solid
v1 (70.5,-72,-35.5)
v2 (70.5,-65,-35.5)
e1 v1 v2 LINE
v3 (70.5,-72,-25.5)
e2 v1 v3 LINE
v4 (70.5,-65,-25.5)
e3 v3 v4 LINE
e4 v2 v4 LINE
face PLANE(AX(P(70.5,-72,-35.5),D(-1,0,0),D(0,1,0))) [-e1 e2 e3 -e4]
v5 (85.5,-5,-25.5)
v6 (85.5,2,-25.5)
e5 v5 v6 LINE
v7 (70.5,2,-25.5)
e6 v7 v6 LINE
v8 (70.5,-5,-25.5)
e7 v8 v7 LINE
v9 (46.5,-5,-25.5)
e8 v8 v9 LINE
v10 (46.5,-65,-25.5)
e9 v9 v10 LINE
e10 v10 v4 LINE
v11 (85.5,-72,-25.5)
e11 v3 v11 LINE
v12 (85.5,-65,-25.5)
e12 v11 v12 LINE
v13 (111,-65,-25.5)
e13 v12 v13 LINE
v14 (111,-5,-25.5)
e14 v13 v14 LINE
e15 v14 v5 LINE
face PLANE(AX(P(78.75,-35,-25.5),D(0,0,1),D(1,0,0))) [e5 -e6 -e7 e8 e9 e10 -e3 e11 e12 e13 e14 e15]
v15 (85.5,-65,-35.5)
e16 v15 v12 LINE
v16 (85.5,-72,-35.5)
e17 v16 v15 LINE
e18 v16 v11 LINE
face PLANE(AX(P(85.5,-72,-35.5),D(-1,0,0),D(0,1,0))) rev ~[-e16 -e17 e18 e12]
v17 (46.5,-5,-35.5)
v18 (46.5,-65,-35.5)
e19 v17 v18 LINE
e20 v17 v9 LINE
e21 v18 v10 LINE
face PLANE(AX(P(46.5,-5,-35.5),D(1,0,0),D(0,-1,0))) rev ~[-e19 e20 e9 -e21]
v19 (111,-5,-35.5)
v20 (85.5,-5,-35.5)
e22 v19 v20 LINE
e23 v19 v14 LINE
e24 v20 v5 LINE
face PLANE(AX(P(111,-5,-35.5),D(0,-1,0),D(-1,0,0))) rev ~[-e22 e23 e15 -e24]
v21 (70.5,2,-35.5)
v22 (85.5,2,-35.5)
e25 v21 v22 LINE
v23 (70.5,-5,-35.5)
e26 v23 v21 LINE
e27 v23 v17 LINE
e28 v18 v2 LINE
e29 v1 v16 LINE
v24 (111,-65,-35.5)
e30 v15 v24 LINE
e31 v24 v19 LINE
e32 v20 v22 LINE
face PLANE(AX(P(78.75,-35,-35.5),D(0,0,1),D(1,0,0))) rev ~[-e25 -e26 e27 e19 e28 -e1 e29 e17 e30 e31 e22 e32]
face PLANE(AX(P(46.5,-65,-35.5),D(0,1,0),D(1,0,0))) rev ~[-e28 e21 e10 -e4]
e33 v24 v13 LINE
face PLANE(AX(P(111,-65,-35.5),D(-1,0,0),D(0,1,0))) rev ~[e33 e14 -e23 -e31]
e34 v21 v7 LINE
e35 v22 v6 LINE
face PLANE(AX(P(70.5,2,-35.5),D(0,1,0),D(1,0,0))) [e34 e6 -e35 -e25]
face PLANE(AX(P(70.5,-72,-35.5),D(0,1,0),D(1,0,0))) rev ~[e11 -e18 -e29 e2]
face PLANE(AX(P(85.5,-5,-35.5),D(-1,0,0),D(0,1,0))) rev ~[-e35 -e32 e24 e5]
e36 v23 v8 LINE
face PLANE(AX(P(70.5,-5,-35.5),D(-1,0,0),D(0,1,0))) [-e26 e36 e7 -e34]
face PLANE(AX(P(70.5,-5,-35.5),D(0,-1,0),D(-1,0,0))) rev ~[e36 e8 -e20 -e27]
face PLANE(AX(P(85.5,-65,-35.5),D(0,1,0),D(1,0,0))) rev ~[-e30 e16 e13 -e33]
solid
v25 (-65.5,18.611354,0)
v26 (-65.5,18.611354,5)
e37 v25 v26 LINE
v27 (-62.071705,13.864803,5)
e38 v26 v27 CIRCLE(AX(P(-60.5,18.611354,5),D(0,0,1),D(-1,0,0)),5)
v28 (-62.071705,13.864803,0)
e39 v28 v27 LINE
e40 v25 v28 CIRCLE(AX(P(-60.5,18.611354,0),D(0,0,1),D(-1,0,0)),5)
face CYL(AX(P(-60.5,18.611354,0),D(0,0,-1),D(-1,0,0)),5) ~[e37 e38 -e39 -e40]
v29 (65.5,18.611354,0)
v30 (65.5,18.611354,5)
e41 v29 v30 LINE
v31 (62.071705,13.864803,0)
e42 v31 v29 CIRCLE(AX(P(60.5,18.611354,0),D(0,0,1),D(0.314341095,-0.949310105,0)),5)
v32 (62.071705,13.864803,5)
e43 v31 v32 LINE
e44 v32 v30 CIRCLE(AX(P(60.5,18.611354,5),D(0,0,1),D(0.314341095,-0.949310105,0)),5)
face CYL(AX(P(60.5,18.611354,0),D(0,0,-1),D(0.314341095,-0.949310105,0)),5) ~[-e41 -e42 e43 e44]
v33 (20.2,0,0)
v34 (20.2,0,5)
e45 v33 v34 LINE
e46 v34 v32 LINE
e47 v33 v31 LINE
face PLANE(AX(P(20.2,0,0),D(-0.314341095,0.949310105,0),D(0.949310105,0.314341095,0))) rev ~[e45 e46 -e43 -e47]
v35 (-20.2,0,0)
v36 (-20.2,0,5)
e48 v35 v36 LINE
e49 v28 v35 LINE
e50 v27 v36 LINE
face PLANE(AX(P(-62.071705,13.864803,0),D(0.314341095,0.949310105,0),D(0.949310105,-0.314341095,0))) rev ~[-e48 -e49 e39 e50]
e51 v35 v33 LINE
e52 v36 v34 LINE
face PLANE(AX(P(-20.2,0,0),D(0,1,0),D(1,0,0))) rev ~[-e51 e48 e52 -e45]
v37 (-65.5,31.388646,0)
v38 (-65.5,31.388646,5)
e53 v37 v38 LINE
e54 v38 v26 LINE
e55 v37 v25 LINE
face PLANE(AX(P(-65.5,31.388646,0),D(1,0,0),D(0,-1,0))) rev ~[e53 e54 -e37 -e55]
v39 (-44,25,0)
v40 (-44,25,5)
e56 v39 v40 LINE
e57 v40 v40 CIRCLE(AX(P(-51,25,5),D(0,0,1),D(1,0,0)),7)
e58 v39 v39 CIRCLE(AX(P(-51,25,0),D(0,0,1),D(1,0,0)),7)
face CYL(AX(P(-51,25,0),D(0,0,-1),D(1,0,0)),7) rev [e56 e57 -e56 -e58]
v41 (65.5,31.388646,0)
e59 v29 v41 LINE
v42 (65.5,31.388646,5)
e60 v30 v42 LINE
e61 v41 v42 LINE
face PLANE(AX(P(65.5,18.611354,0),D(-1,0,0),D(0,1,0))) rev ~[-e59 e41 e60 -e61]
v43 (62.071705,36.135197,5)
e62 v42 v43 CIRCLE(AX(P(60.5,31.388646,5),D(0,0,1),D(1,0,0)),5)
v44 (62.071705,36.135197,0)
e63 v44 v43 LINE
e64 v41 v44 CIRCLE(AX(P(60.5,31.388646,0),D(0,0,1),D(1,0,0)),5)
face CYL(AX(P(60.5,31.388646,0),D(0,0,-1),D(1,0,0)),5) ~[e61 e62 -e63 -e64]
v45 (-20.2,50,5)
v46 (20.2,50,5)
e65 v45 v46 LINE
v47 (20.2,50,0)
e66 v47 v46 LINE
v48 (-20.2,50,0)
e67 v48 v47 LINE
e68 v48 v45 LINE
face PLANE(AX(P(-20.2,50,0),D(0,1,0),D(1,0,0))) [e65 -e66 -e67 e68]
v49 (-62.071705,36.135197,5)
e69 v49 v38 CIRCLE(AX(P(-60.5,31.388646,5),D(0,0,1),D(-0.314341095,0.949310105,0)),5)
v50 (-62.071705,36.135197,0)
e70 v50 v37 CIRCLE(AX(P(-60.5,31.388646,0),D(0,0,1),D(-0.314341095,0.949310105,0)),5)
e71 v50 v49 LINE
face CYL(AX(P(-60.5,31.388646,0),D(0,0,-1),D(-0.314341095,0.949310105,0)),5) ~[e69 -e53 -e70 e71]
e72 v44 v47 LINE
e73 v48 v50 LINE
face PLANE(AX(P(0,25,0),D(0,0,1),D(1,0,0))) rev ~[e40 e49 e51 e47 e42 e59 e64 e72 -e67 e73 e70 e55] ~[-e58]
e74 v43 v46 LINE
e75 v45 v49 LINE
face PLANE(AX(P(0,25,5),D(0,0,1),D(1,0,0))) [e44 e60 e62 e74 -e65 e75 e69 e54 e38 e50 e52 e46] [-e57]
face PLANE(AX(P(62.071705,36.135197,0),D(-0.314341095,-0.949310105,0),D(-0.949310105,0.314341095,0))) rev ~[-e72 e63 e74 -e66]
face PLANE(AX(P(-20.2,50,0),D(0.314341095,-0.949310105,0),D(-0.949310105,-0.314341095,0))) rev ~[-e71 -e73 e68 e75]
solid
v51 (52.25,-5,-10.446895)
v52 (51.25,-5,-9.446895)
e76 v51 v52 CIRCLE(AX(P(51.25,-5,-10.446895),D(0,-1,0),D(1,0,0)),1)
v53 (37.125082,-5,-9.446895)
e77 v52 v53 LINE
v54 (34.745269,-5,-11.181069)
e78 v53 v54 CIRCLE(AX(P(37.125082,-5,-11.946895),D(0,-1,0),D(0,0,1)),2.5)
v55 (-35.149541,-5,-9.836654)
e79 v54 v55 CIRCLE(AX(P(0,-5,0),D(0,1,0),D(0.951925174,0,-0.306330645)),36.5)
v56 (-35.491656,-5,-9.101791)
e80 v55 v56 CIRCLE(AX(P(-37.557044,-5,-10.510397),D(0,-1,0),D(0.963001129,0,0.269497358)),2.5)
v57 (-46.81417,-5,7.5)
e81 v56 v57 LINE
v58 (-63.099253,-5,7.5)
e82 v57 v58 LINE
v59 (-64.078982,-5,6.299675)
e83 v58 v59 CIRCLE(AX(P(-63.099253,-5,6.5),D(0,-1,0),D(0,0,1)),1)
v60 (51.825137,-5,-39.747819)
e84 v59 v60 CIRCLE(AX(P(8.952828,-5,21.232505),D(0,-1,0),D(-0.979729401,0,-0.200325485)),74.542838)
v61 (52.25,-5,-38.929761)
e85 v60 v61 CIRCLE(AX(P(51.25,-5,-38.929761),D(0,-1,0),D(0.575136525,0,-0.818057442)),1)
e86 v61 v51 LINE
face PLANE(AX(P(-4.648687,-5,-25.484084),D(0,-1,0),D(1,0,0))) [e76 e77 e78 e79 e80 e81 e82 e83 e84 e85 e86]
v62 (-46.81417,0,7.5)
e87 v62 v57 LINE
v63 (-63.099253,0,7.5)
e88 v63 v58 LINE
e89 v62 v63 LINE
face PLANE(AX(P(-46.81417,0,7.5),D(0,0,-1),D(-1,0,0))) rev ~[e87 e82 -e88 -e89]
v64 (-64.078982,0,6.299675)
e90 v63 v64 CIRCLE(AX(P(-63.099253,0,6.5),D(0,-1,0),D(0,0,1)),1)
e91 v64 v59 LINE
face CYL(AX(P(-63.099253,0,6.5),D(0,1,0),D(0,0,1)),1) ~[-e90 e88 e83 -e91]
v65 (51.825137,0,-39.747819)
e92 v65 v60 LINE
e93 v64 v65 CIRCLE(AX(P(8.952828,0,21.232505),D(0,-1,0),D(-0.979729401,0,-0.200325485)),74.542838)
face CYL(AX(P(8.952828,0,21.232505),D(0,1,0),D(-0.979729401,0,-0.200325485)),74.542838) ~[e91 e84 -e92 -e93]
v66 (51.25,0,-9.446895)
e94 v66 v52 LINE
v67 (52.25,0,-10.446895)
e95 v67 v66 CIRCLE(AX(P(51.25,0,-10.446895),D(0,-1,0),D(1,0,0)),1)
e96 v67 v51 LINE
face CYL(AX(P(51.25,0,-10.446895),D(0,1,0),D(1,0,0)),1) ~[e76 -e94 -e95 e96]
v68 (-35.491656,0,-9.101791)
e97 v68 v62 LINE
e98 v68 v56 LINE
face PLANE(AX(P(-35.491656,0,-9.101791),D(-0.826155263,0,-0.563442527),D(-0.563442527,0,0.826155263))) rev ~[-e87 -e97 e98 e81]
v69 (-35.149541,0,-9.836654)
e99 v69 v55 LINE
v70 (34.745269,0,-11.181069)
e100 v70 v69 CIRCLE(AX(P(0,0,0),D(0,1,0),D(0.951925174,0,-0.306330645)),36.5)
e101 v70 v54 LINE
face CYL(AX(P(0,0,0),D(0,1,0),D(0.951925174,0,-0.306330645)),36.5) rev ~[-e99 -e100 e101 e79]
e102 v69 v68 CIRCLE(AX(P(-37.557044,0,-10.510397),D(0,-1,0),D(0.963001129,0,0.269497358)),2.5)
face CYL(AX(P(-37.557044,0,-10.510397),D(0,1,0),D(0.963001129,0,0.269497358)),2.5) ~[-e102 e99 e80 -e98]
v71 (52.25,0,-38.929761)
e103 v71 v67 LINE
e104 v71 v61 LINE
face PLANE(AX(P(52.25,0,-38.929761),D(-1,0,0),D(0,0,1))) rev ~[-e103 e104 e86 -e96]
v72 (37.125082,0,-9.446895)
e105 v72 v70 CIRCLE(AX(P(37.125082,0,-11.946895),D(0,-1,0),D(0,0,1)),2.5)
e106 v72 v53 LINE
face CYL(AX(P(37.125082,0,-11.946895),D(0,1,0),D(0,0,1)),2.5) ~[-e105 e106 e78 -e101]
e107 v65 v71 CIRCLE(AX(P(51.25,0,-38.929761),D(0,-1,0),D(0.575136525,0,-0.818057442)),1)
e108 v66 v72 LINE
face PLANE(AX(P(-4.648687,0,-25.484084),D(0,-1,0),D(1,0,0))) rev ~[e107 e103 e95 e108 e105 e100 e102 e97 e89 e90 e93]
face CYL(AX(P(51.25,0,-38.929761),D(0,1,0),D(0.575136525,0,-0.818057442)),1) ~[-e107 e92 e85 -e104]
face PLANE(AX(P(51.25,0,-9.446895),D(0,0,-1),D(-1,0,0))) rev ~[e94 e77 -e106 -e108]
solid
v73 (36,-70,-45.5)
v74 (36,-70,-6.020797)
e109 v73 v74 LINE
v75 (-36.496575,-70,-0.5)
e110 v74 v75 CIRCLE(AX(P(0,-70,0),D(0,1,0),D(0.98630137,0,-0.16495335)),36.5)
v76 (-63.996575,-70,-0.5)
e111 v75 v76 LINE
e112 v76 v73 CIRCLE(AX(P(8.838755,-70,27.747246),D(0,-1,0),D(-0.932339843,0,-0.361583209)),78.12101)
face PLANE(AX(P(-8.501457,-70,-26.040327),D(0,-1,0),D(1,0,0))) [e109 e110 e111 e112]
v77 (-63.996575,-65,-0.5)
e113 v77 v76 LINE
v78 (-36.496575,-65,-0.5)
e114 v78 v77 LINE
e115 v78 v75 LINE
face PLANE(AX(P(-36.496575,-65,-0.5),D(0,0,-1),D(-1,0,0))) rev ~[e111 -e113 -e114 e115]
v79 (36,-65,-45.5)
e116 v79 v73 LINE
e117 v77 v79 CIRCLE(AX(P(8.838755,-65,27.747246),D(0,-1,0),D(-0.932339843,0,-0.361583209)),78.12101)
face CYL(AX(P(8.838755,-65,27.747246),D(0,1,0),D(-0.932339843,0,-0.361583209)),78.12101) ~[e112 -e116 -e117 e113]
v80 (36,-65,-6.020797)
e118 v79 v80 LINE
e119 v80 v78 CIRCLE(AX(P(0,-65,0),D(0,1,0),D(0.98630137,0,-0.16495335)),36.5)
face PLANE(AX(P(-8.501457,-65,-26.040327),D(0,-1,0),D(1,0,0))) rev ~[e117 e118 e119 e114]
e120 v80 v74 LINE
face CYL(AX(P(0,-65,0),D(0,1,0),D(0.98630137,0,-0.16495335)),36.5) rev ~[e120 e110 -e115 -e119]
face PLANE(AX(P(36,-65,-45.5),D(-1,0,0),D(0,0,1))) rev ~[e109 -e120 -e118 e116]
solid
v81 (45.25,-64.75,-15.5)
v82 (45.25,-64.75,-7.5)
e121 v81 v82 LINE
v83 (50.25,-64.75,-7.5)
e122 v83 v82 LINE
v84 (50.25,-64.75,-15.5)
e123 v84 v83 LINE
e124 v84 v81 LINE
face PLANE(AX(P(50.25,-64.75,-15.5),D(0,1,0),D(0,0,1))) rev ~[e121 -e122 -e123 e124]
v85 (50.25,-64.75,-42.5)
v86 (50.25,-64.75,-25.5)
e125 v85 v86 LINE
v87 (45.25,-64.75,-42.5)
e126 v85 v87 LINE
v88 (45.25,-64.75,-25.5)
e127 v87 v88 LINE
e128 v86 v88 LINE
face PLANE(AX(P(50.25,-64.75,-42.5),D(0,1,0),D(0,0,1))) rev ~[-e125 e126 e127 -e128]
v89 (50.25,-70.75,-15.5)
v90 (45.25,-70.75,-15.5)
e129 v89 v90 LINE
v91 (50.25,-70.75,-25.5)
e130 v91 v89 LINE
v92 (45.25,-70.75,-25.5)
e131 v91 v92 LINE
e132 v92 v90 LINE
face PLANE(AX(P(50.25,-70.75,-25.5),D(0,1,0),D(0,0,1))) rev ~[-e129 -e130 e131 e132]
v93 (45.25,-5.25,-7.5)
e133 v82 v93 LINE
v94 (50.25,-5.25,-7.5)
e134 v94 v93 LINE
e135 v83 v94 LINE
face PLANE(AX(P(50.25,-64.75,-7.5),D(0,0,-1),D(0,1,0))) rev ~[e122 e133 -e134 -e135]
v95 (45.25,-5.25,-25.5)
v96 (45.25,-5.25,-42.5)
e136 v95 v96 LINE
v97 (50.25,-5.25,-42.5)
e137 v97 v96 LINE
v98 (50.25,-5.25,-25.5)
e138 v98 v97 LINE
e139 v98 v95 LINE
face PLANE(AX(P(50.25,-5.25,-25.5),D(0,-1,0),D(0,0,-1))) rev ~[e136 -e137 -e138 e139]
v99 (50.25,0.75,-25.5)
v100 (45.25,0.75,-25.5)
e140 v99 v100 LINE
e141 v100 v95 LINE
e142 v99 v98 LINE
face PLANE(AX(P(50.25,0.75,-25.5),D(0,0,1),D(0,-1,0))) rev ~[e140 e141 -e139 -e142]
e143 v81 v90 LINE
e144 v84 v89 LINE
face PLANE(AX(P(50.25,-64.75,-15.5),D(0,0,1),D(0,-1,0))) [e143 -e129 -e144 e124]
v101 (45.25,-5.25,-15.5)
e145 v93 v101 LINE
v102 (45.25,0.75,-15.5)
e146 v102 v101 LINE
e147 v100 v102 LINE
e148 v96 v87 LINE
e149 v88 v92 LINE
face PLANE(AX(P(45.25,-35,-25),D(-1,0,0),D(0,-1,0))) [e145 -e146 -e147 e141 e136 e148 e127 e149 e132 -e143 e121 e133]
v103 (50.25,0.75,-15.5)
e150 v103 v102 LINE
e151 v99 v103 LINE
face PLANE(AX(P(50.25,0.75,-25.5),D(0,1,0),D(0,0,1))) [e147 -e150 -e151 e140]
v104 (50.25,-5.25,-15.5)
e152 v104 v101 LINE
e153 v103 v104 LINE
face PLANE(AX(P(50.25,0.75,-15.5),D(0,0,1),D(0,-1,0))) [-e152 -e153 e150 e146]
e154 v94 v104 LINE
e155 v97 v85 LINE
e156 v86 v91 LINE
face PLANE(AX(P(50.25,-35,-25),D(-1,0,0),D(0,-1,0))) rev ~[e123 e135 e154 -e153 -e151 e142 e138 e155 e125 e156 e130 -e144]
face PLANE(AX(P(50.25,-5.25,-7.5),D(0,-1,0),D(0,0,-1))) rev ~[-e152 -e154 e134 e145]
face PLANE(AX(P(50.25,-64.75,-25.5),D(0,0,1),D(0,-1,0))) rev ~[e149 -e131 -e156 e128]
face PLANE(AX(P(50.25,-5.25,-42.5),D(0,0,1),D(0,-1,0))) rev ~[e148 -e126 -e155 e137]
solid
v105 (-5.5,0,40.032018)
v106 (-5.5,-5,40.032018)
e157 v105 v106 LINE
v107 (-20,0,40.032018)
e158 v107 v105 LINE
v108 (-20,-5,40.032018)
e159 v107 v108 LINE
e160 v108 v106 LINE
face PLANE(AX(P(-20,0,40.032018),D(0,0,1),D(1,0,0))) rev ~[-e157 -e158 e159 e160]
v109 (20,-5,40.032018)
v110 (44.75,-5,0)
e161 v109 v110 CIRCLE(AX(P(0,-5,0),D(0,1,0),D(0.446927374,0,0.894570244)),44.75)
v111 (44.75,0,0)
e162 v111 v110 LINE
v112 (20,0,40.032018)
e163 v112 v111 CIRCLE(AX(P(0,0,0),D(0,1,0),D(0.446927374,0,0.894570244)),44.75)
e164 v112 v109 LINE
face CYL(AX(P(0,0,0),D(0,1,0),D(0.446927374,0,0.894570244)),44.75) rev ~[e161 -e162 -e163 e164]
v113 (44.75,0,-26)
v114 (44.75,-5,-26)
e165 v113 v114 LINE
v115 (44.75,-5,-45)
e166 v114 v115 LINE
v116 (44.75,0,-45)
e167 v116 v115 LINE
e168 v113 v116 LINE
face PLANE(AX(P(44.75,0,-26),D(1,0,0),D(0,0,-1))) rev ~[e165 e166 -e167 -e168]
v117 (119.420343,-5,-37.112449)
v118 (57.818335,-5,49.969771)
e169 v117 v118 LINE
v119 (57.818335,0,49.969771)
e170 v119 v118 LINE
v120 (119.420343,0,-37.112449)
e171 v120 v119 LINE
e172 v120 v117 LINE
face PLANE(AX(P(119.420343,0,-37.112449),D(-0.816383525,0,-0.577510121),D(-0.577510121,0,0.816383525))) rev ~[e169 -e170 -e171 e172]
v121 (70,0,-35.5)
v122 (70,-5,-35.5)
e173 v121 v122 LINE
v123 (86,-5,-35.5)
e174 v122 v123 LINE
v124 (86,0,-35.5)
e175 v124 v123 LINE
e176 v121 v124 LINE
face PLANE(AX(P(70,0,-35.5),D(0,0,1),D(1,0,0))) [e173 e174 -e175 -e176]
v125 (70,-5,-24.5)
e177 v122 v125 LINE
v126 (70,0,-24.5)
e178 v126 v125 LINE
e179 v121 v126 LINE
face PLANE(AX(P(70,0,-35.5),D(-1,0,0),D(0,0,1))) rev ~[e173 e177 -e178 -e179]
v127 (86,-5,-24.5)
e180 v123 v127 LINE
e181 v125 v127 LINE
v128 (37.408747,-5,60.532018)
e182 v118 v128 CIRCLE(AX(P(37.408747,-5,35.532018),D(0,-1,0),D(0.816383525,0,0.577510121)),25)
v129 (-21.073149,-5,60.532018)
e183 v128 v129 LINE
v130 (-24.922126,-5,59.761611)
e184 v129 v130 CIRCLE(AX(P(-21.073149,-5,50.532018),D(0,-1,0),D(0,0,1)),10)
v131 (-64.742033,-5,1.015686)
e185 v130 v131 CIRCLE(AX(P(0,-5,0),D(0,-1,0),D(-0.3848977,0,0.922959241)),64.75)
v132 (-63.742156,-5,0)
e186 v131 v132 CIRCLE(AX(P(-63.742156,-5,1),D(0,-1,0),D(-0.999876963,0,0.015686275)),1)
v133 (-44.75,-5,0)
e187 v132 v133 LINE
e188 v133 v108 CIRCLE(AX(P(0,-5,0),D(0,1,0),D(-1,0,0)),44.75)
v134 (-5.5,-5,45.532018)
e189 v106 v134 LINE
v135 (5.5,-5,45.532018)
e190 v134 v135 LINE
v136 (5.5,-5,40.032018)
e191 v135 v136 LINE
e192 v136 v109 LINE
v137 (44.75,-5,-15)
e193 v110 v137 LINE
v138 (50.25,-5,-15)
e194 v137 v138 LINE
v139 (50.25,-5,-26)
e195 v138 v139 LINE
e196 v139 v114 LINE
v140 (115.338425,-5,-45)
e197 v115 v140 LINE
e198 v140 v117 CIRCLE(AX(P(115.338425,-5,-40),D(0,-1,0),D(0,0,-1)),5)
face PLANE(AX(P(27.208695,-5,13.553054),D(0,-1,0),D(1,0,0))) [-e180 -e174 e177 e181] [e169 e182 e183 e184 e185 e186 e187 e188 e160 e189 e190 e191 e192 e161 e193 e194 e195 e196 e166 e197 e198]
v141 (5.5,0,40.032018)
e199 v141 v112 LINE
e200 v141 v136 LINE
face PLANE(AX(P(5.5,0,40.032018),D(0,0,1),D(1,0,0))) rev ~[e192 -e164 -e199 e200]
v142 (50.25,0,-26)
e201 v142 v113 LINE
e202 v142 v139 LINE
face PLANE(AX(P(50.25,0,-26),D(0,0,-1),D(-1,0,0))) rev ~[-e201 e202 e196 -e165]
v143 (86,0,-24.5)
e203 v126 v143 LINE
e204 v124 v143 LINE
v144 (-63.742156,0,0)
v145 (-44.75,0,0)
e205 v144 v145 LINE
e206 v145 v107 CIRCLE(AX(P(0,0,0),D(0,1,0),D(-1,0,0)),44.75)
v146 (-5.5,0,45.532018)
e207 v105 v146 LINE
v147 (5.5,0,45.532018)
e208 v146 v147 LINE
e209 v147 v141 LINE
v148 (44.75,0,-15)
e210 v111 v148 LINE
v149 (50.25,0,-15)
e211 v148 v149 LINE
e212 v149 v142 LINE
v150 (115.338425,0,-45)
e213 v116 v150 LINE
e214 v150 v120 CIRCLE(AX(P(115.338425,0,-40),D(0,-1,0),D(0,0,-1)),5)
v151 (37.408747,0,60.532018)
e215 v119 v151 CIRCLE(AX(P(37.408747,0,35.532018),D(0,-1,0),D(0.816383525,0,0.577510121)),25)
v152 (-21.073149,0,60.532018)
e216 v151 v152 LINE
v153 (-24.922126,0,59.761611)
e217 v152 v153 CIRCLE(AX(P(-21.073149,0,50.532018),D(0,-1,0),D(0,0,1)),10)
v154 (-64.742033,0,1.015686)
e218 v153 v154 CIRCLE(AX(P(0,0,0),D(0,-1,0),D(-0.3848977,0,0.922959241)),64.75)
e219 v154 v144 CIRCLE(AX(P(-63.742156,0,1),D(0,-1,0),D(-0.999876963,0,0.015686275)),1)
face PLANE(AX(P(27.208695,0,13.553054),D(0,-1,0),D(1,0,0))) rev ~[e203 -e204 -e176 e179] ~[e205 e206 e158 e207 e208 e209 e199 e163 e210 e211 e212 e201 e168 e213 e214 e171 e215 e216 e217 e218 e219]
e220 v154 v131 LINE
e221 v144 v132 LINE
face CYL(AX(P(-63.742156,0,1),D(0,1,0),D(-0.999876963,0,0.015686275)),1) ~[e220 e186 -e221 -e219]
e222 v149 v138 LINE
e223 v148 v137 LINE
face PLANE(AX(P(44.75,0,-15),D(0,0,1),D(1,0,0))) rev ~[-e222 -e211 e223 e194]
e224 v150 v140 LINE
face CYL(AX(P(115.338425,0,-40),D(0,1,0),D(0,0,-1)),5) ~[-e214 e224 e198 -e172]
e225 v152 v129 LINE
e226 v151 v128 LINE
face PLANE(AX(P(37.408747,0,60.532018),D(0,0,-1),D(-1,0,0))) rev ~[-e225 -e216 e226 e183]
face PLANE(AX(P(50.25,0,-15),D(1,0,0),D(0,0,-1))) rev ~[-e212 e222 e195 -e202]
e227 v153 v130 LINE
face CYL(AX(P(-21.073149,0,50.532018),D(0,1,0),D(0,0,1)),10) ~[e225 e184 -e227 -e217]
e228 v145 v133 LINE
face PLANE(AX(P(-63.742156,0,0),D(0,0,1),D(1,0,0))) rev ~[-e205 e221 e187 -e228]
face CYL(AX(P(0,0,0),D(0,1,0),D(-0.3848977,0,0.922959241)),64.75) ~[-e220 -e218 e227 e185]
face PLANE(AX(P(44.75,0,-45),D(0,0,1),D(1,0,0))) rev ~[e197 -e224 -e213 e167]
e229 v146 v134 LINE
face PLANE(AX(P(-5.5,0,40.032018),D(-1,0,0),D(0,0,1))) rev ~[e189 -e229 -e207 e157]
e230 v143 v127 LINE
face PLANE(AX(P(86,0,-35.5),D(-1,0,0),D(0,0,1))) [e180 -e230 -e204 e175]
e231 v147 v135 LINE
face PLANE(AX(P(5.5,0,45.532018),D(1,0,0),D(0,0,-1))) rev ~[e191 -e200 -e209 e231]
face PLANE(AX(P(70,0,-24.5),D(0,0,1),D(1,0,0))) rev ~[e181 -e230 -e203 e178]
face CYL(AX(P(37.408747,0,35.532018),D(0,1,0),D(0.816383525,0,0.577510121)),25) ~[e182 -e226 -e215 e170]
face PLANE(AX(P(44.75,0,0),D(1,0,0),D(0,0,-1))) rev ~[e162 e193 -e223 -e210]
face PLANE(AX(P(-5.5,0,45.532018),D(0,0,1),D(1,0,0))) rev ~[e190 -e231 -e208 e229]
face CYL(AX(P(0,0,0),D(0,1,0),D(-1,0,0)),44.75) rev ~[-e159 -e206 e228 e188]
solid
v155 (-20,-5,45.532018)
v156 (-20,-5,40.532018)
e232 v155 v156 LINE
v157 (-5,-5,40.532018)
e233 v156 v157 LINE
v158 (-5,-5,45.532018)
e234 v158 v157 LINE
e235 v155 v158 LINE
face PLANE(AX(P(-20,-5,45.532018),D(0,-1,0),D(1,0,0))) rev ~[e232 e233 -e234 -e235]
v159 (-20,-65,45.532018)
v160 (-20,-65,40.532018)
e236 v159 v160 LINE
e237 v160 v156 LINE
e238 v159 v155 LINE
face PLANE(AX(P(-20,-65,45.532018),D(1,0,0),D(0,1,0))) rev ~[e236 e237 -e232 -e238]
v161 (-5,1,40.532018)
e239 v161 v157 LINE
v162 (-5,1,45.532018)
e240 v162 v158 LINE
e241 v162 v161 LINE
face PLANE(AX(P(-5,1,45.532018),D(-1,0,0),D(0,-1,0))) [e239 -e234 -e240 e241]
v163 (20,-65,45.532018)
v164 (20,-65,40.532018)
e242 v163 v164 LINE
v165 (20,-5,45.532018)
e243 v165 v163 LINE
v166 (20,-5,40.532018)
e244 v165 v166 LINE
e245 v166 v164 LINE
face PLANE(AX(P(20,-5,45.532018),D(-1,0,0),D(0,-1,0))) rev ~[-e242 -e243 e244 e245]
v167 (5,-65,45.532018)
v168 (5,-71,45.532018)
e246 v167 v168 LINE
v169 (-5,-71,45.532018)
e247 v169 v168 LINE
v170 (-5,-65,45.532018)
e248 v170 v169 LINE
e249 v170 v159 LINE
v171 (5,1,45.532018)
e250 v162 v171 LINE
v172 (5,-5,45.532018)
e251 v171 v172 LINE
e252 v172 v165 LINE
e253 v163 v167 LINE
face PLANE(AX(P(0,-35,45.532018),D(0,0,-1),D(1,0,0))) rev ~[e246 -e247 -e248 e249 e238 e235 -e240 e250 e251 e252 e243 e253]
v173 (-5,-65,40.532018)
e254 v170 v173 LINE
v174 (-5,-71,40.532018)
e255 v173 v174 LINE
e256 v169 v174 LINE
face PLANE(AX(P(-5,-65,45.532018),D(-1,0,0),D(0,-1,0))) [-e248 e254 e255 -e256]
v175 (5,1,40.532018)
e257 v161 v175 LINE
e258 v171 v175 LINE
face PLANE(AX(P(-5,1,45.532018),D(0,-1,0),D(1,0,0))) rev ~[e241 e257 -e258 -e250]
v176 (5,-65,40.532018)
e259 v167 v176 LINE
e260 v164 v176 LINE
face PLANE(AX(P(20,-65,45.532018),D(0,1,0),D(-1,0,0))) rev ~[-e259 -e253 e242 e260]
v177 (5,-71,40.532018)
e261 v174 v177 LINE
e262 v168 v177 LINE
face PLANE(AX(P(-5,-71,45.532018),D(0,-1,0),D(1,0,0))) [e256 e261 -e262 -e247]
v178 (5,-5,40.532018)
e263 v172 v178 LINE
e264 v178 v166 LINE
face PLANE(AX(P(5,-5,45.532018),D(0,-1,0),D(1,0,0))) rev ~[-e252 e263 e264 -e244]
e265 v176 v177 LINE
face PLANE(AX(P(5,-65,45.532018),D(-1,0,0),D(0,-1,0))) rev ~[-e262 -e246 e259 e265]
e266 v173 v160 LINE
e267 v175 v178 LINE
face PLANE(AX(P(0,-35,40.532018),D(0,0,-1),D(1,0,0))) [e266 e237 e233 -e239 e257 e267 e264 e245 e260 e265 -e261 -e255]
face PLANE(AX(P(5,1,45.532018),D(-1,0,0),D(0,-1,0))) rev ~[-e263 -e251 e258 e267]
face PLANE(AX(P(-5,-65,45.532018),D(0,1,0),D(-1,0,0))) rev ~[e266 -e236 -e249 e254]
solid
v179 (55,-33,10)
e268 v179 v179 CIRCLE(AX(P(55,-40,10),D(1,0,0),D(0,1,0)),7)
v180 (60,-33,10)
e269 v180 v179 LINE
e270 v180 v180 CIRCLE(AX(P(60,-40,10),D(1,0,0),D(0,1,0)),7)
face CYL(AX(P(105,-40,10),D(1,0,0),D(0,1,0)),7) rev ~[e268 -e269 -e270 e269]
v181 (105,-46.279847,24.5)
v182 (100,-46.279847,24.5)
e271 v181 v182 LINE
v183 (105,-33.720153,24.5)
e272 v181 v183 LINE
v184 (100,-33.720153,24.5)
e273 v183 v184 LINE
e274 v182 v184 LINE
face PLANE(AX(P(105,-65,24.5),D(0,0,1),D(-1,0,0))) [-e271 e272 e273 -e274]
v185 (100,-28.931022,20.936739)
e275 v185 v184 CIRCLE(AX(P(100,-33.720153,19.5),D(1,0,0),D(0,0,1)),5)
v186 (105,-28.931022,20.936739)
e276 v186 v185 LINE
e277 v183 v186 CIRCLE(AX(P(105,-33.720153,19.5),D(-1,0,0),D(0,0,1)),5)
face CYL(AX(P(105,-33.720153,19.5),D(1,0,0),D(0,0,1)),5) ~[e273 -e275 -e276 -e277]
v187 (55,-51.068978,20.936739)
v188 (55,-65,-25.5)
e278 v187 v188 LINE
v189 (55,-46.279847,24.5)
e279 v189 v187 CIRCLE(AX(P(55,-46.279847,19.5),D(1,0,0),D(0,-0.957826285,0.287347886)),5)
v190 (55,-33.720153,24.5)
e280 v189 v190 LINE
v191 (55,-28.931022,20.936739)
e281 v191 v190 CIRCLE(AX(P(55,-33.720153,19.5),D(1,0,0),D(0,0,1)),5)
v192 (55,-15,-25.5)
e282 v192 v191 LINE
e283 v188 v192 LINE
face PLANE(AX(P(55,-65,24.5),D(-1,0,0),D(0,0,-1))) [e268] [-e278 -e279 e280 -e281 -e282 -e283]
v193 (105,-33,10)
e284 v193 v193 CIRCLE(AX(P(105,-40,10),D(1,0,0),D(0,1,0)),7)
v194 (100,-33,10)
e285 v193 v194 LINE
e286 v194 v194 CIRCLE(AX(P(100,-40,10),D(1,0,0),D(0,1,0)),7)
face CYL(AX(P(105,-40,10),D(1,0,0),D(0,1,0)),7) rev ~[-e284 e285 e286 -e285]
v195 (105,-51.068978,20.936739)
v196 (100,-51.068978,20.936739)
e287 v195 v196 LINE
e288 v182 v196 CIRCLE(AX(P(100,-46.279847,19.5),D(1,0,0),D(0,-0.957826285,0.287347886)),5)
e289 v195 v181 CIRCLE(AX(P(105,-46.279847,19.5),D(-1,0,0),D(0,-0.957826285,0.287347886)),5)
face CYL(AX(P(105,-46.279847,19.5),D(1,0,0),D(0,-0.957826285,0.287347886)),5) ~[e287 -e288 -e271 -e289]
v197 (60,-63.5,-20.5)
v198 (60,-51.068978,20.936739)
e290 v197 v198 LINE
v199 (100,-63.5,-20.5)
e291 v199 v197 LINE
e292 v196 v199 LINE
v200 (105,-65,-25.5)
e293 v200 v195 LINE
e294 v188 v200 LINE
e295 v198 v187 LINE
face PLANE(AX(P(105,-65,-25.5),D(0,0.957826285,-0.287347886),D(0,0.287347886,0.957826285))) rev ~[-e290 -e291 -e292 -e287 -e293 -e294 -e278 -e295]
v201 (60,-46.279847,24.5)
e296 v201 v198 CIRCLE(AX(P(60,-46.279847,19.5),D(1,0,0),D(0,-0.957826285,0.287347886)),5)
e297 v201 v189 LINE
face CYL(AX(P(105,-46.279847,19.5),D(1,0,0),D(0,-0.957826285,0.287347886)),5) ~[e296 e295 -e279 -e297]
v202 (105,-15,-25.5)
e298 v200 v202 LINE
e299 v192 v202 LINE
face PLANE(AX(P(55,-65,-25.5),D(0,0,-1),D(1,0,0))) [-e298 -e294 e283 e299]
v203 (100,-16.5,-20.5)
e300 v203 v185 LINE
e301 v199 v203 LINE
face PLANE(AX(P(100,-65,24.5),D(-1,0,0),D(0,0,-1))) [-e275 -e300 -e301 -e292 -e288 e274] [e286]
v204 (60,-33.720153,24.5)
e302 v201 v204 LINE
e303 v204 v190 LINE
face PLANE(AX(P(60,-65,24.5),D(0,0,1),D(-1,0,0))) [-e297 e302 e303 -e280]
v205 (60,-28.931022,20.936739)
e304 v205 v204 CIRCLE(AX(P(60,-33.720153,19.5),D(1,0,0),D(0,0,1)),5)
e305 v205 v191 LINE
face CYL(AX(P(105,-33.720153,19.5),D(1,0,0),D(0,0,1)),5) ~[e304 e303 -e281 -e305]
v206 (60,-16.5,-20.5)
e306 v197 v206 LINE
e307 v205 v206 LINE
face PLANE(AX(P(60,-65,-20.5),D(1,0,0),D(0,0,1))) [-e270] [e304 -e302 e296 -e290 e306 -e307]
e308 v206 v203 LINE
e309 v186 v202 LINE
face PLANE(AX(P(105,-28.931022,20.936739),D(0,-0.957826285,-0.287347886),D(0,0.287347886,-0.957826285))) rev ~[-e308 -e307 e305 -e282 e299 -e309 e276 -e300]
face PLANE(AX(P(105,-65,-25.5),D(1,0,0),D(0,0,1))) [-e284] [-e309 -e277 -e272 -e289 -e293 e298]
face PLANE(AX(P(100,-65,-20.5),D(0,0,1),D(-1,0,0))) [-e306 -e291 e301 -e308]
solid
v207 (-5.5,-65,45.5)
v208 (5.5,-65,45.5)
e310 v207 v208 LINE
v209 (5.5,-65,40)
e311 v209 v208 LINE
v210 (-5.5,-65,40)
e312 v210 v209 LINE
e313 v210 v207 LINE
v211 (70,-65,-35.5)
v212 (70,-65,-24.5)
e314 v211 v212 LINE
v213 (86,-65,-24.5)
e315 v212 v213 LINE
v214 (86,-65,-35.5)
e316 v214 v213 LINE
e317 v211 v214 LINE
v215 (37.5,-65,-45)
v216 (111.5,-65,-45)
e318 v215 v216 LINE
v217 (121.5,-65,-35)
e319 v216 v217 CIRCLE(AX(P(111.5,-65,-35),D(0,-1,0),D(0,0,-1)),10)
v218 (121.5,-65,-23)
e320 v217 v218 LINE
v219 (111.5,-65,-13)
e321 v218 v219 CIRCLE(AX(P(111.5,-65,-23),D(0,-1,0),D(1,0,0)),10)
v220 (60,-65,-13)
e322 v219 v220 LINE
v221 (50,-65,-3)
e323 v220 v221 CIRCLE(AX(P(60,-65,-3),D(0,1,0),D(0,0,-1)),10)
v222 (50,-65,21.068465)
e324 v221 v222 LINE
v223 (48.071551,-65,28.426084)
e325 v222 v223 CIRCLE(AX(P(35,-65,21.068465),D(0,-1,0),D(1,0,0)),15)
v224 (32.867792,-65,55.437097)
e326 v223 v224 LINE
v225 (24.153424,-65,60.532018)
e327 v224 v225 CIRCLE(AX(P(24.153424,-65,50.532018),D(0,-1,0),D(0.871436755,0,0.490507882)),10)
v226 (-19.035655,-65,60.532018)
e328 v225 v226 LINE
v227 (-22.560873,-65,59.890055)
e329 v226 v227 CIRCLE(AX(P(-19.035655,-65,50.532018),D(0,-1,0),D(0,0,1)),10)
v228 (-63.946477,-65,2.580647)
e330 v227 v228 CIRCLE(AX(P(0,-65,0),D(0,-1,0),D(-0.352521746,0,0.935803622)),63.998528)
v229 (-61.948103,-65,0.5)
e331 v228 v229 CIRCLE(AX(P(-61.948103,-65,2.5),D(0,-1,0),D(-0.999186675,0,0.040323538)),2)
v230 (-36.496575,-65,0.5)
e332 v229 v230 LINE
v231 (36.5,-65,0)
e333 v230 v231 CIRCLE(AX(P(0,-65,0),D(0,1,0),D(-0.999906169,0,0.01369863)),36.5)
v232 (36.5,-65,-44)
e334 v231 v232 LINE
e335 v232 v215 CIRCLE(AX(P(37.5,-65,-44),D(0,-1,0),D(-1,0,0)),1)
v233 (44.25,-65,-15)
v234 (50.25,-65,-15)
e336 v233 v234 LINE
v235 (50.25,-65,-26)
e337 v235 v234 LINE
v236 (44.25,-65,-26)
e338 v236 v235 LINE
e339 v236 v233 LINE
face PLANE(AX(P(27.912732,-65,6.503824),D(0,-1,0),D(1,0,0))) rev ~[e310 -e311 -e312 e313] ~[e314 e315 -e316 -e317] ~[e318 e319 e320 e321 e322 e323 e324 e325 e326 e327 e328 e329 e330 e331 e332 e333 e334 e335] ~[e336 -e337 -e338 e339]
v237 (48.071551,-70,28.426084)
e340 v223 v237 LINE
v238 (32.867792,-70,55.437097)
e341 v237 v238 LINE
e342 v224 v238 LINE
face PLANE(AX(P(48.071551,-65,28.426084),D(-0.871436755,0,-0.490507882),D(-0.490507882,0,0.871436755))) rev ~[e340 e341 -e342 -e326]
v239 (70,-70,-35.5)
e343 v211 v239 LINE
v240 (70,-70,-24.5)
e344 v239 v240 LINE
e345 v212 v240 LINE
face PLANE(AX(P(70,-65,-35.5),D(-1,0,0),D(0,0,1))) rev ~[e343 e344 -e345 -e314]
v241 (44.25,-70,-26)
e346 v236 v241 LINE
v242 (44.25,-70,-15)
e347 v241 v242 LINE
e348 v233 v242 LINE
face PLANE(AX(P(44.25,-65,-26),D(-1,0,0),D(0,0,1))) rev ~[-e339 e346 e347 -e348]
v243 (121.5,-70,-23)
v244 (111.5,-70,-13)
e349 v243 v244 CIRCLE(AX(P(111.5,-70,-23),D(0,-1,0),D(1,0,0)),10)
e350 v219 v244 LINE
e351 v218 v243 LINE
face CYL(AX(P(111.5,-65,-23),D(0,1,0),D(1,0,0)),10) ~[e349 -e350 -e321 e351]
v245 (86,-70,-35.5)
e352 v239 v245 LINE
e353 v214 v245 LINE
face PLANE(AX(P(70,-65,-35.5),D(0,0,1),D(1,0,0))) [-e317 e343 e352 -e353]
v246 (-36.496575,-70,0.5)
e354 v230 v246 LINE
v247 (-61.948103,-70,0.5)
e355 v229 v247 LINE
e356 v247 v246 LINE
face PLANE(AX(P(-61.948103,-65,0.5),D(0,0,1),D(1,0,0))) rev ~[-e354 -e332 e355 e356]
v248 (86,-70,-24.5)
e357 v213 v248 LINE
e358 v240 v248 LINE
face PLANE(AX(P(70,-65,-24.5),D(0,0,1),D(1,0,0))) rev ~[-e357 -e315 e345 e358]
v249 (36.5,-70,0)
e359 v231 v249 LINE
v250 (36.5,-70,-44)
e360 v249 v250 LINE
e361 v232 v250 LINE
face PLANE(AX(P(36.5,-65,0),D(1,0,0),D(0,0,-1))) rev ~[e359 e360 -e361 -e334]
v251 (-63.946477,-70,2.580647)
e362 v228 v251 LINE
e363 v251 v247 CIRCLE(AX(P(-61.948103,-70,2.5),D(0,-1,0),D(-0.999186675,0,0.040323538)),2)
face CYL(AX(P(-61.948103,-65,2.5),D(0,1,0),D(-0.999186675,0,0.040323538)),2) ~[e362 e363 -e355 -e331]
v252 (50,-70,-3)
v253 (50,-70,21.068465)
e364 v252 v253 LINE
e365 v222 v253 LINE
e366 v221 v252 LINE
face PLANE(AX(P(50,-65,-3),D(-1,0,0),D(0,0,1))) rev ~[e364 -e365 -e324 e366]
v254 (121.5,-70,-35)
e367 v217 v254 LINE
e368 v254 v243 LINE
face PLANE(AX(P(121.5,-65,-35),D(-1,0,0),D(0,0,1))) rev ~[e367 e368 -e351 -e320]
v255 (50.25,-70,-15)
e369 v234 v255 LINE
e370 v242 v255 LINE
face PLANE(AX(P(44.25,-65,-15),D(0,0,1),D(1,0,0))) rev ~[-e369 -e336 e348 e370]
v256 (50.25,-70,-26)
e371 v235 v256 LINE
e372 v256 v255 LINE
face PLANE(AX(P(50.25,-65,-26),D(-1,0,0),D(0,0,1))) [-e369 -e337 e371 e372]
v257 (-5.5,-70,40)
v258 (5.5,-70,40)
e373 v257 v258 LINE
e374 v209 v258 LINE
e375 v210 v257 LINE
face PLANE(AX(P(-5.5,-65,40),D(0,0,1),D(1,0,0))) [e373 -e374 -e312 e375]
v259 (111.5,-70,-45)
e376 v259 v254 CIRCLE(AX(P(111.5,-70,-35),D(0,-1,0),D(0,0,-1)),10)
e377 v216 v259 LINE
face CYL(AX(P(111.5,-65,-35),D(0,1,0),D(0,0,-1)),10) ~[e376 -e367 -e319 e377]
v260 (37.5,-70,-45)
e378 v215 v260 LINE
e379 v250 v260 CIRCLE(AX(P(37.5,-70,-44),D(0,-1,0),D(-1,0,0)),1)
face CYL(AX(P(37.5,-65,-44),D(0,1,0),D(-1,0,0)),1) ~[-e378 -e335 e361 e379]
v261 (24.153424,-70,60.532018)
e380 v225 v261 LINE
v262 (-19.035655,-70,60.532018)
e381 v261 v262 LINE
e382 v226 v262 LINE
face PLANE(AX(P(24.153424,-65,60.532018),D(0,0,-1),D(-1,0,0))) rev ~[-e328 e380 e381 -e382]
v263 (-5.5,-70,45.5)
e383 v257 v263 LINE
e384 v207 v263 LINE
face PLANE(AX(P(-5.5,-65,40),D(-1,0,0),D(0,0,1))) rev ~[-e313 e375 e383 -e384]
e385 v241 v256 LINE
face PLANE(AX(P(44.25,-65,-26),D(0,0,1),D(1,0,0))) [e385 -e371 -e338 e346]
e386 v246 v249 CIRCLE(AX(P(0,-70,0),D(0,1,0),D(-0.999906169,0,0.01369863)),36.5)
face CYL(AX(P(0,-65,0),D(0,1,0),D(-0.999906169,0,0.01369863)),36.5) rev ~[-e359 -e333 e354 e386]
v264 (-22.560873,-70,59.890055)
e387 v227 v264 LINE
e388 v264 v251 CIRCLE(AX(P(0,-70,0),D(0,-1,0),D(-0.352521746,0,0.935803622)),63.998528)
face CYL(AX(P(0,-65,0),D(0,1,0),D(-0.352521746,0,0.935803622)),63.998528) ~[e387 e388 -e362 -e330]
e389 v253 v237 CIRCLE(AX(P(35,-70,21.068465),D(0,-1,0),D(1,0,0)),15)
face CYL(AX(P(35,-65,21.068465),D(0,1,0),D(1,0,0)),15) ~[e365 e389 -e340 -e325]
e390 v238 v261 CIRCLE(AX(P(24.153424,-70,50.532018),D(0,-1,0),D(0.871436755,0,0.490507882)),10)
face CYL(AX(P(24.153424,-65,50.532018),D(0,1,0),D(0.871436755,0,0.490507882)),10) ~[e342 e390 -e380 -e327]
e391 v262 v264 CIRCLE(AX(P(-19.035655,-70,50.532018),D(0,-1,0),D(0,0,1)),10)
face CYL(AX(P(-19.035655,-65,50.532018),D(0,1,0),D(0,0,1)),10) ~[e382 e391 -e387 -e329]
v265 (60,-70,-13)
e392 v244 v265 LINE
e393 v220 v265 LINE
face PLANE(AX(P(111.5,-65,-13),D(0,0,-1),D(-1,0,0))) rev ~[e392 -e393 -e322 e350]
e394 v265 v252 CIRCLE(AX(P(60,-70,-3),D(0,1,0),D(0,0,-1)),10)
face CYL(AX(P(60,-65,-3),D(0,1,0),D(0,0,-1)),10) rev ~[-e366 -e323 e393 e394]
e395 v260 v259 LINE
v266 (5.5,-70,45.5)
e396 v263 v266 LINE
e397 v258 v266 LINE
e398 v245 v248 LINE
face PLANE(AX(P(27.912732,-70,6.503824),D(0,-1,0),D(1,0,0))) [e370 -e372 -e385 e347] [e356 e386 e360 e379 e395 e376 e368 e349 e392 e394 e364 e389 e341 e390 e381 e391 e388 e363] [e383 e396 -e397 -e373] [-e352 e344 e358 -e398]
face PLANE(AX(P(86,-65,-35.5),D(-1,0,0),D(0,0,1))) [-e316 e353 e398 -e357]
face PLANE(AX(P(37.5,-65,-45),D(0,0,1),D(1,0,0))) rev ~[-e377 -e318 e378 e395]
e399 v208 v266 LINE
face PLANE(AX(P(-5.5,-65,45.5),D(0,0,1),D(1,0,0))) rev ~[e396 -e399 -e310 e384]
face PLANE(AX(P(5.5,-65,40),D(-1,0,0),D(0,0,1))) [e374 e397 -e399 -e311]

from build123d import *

# Parameters (mm, degrees)
F0_W      = 16
F0_H      = 11
F1_DEPTH  = 5
F3_DEPTH  = 5
F4_W      = 15
F4_H      = 7
F5_DEPTH  = 10
F7_DEPTH  = 50
F8_R      = 7
F9_DEPTH  = 602
F10_W     = 16
F10_H     = 11
F10_W_2   = 6
F10_W_3   = 11
F10_H_2   = 5.5
F11_DEPTH = 5
F12_W     = 10
F12_H     = 6
F13_DEPTH = 5
F14_W     = 6
F14_H     = 10
F15_DEPTH = 5
F16_W     = 40.4
F16_H     = 50
F16_R     = 7
F17_DEPTH = 5


with BuildPart() as f1:
    # F0 (on Front) → F1 (new body)
    with BuildSketch(Plane.XZ):
        with BuildLine():
            ThreePointArc((-44.75, 0), (-38.0628591937, 23.5325572346), (-20, 40.0320184352))
            Line((-20, 40.0320184352), (-5.5, 40.0320184352))
            Line((-5.5, 40.0320184352), (-5.5, 45.5320184352))
            Line((-5.5, 45.5320184352), (5.5, 45.5320184352))
            Line((5.5, 45.5320184352), (5.5, 40.0320184352))
            Line((5.5, 40.0320184352), (20, 40.0320184352))
            ThreePointArc((20, 40.0320184352), (38.0628591937, 23.5325572346), (44.75, 0))
            Line((44.75, 0), (44.75, -15))
            Line((44.75, -15), (50.25, -15))
            Line((50.25, -15), (50.25, -26))
            Line((50.25, -26), (44.75, -26))
            Line((44.75, -26), (44.75, -45))
            Line((44.75, -45), (115.3384250636, -45))
            ThreePointArc((115.3384250636, -45), (119.7790192257, -42.2980695132), (119.4203426893, -37.1124493949))
            Line((119.4203426893, -37.1124493949), (57.8183353545, 49.9697714605))
            ThreePointArc((57.8183353545, 49.9697714605), (48.8990947917, 57.7349892458), (37.4087472259, 60.5320184352))
            Line((37.4087472259, 60.5320184352), (-21.0731490969, 60.5320184352))
            ThreePointArc((-21.0731490969, 60.5320184352), (-23.0358100352, 60.3375251555), (-24.9221261009, 59.7616108435))
            ThreePointArc((-24.9221261009, 59.7616108435), (-53.5974466329, 36.3301006665), (-64.742033343, 1.0156862745))
            ThreePointArc((-64.742033343, 1.0156862745), (-64.4547875171, 0.2984610754), (-63.7421563802, 0))
            Line((-63.7421563802, 0), (-44.75, 0))
        make_face()
        with Locations((78, -30)):
            Rectangle(F0_W, F0_H, mode=Mode.SUBTRACT)
    extrude(amount=F1_DEPTH)


with BuildPart() as f3:
    # F2 (on Front) → F3 (new body)
    with BuildSketch(Plane.XZ):
        with BuildLine():
            ThreePointArc((34.7452688352, -11.1810685343), (-0.7019415454, -36.4932497603), (-35.1495411988, -9.8366535729))
            ThreePointArc((-35.1495411988, -9.8366535729), (-35.2906163676, -9.4552639466), (-35.4916558634, -9.10179065))
            Line((-35.4916558634, -9.10179065), (-46.8141702893, 7.5))
            Line((-46.8141702893, 7.5), (-63.0992528337, 7.5))
            ThreePointArc((-63.0992528337, 7.5), (-63.8739545458, 7.1323268596), (-64.0789822352, 6.2996745148))
            ThreePointArc((-64.0789822352, 6.2996745148), (-18.5697408757, -48.0433417775), (51.8251365248, -39.7478186089))
            ThreePointArc((51.8251365248, -39.7478186089), (52.1374504281, -39.3906643432), (52.25, -38.9297611673))
            Line((52.25, -38.9297611673), (52.25, -10.4468951462))
            ThreePointArc((52.25, -10.4468951462), (51.9571067812, -9.7397883651), (51.25, -9.4468951462))
            Line((51.25, -9.4468951462), (37.1250817691, -9.4468951462))
            ThreePointArc((37.1250817691, -9.4468951462), (35.6527649774, -9.9264290453), (34.7452688352, -11.1810685343))
        make_face()
    extrude(amount=F3_DEPTH)


with BuildPart() as f5:
    # F4 (on face) → F5 (new body)
    with BuildSketch(Plane.XY.offset(-35.5)):
        Polygon((70.5, -5), (46.5, -5), (46.5, -65), (70.5, -65), (85.5, -65), (111, -65), (111, -5), (85.5, -5), align=None)
        with Locations((78, -1.5)):
            Rectangle(F4_W, F4_H)
        with Locations((78, -68.5)):
            Rectangle(F4_W, F4_H)
    extrude(amount=F5_DEPTH)


with BuildPart() as f7:
    # F6 (on face) → F7 (new body)
    with BuildSketch(Plane.XZ.offset(65)):
        Polygon((60, -20.5), (60, 24.5), (55, 24.5), (55, -25.5), (105, -25.5), (105, 24.5), (100, 24.5), (100, -20.5), align=None)
    extrude(amount=-F7_DEPTH)

    # F8 (on face) → F9 (cut)
    with BuildSketch(Plane.YZ.offset(105)):
        with Locations((-40, 10)):
            Circle(F8_R)
        with BuildLine():
            Line((-15, 24.5), (-33.7201532545, 24.5))
            ThreePointArc((-33.7201532545, 24.5), (-30.7355006063, 23.5114646414), (-28.9310218283, 20.9367394278))
            Line((-28.9310218283, 20.9367394278), (-15, -25.5))
            Line((-15, -25.5), (-15, 24.5))
        make_face()
        with BuildLine():
            ThreePointArc((-51.0689781717, 20.9367394278), (-49.2644993937, 23.5114646414), (-46.2798467455, 24.5))
            Line((-46.2798467455, 24.5), (-65, 24.5))
            Line((-65, 24.5), (-65, -25.5))
            Line((-65, -25.5), (-51.0689781717, 20.9367394278))
        make_face()
    extrude(amount=-F9_DEPTH, mode=Mode.SUBTRACT)


with BuildPart() as f11:
    # F10 (on face) → F11 (new body)
    with BuildSketch(Plane.XZ.offset(65)):
        with BuildLine():
            ThreePointArc((-36.4965751818, 0.5), (0.2500058646, 36.4991437854), (36.5, 0))
            Line((36.5, 0), (36.5, -44))
            ThreePointArc((36.5, -44), (36.7928932188, -44.7071067812), (37.5, -45))
            Line((37.5, -45), (111.5, -45))
            ThreePointArc((111.5, -45), (118.5710678119, -42.0710678119), (121.5, -35))
            Line((121.5, -35), (121.5, -23))
            ThreePointArc((121.5, -23), (118.5710678119, -15.9289321881), (111.5, -13))
            Line((111.5, -13), (60, -13))
            ThreePointArc((60, -13), (52.9289321881, -10.0710678119), (50, -3))
            Line((50, -3), (50, 0.018009717))
            Line((50, 0.018009717), (50, 21.0684654677))
            ThreePointArc((50, 21.0684654677), (49.5098805968, 24.8715385761), (48.0715513243, 28.4260836948))
            Line((48.0715513243, 28.4260836948), (32.8677915898, 55.4370972533))
            ThreePointArc((32.8677915898, 55.4370972533), (29.2006614936, 59.1648276009), (24.1534240403, 60.5320184352))
            Line((24.1534240403, 60.5320184352), (-19.0356554977, 60.5320184352))
            ThreePointArc((-19.0356554977, 60.5320184352), (-20.8272522454, 60.3702185295), (-22.5608729561, 59.890054654))
            ThreePointArc((-22.5608729561, 59.890054654), (-51.8842214925, 37.4678421465), (-63.9464768042, 2.5806470755))
            ThreePointArc((-63.9464768042, 2.5806470755), (-63.3905482792, 1.1145928669), (-61.9481034534, 0.5))
            Line((-61.9481034534, 0.5), (-36.4965751818, 0.5))
        make_face()
        with Locations((78, -30)):
            Rectangle(F10_W, F10_H, mode=Mode.SUBTRACT)
        with Locations((47.25, -20.5)):
            Rectangle(F10_W_2, F10_H, mode=Mode.SUBTRACT)
        with Locations((0, 42.75)):
            Rectangle(F10_W_3, F10_H_2, mode=Mode.SUBTRACT)
    extrude(amount=F11_DEPTH)


with BuildPart() as f11b:
    # F10 (on face) → F11, piece 2 (new body)
    with BuildSketch(Plane.XZ.offset(65)):
        with BuildLine():
            ThreePointArc((36, -6.0207972894), (-2.7715424235, -36.394622578), (-36.4965751818, -0.5))
            Line((-36.4965751818, -0.5), (-63.9965751818, -0.5))
            ThreePointArc((-63.9965751818, -0.5), (-23.2202611112, -43.4925726322), (36, -45.5))
            Line((36, -45.5), (36, -6.0207972894))
        make_face()
    extrude(amount=F11_DEPTH)


with BuildPart() as f13:
    # F12 (on face) → F13 (new body)
    with BuildSketch(Plane(origin=(0, 0, 45.5320184352), x_dir=(1, 0, 0), z_dir=(0, 0, -1))):
        Polygon((-20, 65), (-20, 5), (-5, 5), (5, 5), (20, 5), (20, 65), (5, 65), (-5, 65), align=None)
        with Locations((0, 2)):
            Rectangle(F12_W, F12_H)
        with Locations((0, 68)):
            Rectangle(F12_W, F12_H)
    extrude(amount=F13_DEPTH)


with BuildPart() as f15:
    # F14 (on face) → F15 (new body)
    with BuildSketch(Plane(origin=(50.25, 0, 0), x_dir=(0, -1, 0), z_dir=(-1, 0, 0))):
        Polygon((64.75, -7.5), (5.25, -7.5), (5.25, -15.5), (5.25, -25.5), (5.25, -42.5), (64.75, -42.5), (64.75, -26), (64.75, -25.5), (64.75, -15.5), align=None)
        with Locations((2.25, -20.5)):
            Rectangle(F14_W, F14_H)
        with Locations((67.75, -20.5)):
            Rectangle(F14_W, F14_H)
    extrude(amount=F15_DEPTH)


with BuildPart() as f17:
    # F16 (on Top) → F17 (new body)
    with BuildSketch(Plane.XY):
        with Locations((0, 25)):
            Rectangle(F16_W, F16_H)
        with BuildLine():
            Line((-62.0717054726, 13.8648031366), (-20.2, 0))
            Line((-20.2, 0), (-20.2, 50))
            Line((-20.2, 50), (-62.0717054726, 36.1351968634))
            ThreePointArc((-62.0717054726, 36.1351968634), (-64.5533028115, 34.3162283279), (-65.5, 31.3886463362))
            Line((-65.5, 31.3886463362), (-65.5, 18.6113536638))
            ThreePointArc((-65.5, 18.6113536638), (-64.5533028115, 15.6837716721), (-62.0717054726, 13.8648031366))
        make_face()
        with Locations((-51, 25)):
            Circle(F16_R, mode=Mode.SUBTRACT)
        with BuildLine():
            Line((20.2, 50), (20.2, 0))
            Line((20.2, 0), (62.0717054726, 13.8648031366))
            ThreePointArc((62.0717054726, 13.8648031366), (64.5533028115, 15.6837716721), (65.5, 18.6113536638))
            Line((65.5, 18.6113536638), (65.5, 31.3886463362))
            ThreePointArc((65.5, 31.3886463362), (64.5533028115, 34.3162283279), (62.0717054726, 36.1351968634))
            Line((62.0717054726, 36.1351968634), (20.2, 50))
        make_face()
    extrude(amount=F17_DEPTH)


solid = Compound([f1.part, f3.part, f5.part, f7.part, f11.part, f11b.part, f13.part, f15.part, f17.part])
